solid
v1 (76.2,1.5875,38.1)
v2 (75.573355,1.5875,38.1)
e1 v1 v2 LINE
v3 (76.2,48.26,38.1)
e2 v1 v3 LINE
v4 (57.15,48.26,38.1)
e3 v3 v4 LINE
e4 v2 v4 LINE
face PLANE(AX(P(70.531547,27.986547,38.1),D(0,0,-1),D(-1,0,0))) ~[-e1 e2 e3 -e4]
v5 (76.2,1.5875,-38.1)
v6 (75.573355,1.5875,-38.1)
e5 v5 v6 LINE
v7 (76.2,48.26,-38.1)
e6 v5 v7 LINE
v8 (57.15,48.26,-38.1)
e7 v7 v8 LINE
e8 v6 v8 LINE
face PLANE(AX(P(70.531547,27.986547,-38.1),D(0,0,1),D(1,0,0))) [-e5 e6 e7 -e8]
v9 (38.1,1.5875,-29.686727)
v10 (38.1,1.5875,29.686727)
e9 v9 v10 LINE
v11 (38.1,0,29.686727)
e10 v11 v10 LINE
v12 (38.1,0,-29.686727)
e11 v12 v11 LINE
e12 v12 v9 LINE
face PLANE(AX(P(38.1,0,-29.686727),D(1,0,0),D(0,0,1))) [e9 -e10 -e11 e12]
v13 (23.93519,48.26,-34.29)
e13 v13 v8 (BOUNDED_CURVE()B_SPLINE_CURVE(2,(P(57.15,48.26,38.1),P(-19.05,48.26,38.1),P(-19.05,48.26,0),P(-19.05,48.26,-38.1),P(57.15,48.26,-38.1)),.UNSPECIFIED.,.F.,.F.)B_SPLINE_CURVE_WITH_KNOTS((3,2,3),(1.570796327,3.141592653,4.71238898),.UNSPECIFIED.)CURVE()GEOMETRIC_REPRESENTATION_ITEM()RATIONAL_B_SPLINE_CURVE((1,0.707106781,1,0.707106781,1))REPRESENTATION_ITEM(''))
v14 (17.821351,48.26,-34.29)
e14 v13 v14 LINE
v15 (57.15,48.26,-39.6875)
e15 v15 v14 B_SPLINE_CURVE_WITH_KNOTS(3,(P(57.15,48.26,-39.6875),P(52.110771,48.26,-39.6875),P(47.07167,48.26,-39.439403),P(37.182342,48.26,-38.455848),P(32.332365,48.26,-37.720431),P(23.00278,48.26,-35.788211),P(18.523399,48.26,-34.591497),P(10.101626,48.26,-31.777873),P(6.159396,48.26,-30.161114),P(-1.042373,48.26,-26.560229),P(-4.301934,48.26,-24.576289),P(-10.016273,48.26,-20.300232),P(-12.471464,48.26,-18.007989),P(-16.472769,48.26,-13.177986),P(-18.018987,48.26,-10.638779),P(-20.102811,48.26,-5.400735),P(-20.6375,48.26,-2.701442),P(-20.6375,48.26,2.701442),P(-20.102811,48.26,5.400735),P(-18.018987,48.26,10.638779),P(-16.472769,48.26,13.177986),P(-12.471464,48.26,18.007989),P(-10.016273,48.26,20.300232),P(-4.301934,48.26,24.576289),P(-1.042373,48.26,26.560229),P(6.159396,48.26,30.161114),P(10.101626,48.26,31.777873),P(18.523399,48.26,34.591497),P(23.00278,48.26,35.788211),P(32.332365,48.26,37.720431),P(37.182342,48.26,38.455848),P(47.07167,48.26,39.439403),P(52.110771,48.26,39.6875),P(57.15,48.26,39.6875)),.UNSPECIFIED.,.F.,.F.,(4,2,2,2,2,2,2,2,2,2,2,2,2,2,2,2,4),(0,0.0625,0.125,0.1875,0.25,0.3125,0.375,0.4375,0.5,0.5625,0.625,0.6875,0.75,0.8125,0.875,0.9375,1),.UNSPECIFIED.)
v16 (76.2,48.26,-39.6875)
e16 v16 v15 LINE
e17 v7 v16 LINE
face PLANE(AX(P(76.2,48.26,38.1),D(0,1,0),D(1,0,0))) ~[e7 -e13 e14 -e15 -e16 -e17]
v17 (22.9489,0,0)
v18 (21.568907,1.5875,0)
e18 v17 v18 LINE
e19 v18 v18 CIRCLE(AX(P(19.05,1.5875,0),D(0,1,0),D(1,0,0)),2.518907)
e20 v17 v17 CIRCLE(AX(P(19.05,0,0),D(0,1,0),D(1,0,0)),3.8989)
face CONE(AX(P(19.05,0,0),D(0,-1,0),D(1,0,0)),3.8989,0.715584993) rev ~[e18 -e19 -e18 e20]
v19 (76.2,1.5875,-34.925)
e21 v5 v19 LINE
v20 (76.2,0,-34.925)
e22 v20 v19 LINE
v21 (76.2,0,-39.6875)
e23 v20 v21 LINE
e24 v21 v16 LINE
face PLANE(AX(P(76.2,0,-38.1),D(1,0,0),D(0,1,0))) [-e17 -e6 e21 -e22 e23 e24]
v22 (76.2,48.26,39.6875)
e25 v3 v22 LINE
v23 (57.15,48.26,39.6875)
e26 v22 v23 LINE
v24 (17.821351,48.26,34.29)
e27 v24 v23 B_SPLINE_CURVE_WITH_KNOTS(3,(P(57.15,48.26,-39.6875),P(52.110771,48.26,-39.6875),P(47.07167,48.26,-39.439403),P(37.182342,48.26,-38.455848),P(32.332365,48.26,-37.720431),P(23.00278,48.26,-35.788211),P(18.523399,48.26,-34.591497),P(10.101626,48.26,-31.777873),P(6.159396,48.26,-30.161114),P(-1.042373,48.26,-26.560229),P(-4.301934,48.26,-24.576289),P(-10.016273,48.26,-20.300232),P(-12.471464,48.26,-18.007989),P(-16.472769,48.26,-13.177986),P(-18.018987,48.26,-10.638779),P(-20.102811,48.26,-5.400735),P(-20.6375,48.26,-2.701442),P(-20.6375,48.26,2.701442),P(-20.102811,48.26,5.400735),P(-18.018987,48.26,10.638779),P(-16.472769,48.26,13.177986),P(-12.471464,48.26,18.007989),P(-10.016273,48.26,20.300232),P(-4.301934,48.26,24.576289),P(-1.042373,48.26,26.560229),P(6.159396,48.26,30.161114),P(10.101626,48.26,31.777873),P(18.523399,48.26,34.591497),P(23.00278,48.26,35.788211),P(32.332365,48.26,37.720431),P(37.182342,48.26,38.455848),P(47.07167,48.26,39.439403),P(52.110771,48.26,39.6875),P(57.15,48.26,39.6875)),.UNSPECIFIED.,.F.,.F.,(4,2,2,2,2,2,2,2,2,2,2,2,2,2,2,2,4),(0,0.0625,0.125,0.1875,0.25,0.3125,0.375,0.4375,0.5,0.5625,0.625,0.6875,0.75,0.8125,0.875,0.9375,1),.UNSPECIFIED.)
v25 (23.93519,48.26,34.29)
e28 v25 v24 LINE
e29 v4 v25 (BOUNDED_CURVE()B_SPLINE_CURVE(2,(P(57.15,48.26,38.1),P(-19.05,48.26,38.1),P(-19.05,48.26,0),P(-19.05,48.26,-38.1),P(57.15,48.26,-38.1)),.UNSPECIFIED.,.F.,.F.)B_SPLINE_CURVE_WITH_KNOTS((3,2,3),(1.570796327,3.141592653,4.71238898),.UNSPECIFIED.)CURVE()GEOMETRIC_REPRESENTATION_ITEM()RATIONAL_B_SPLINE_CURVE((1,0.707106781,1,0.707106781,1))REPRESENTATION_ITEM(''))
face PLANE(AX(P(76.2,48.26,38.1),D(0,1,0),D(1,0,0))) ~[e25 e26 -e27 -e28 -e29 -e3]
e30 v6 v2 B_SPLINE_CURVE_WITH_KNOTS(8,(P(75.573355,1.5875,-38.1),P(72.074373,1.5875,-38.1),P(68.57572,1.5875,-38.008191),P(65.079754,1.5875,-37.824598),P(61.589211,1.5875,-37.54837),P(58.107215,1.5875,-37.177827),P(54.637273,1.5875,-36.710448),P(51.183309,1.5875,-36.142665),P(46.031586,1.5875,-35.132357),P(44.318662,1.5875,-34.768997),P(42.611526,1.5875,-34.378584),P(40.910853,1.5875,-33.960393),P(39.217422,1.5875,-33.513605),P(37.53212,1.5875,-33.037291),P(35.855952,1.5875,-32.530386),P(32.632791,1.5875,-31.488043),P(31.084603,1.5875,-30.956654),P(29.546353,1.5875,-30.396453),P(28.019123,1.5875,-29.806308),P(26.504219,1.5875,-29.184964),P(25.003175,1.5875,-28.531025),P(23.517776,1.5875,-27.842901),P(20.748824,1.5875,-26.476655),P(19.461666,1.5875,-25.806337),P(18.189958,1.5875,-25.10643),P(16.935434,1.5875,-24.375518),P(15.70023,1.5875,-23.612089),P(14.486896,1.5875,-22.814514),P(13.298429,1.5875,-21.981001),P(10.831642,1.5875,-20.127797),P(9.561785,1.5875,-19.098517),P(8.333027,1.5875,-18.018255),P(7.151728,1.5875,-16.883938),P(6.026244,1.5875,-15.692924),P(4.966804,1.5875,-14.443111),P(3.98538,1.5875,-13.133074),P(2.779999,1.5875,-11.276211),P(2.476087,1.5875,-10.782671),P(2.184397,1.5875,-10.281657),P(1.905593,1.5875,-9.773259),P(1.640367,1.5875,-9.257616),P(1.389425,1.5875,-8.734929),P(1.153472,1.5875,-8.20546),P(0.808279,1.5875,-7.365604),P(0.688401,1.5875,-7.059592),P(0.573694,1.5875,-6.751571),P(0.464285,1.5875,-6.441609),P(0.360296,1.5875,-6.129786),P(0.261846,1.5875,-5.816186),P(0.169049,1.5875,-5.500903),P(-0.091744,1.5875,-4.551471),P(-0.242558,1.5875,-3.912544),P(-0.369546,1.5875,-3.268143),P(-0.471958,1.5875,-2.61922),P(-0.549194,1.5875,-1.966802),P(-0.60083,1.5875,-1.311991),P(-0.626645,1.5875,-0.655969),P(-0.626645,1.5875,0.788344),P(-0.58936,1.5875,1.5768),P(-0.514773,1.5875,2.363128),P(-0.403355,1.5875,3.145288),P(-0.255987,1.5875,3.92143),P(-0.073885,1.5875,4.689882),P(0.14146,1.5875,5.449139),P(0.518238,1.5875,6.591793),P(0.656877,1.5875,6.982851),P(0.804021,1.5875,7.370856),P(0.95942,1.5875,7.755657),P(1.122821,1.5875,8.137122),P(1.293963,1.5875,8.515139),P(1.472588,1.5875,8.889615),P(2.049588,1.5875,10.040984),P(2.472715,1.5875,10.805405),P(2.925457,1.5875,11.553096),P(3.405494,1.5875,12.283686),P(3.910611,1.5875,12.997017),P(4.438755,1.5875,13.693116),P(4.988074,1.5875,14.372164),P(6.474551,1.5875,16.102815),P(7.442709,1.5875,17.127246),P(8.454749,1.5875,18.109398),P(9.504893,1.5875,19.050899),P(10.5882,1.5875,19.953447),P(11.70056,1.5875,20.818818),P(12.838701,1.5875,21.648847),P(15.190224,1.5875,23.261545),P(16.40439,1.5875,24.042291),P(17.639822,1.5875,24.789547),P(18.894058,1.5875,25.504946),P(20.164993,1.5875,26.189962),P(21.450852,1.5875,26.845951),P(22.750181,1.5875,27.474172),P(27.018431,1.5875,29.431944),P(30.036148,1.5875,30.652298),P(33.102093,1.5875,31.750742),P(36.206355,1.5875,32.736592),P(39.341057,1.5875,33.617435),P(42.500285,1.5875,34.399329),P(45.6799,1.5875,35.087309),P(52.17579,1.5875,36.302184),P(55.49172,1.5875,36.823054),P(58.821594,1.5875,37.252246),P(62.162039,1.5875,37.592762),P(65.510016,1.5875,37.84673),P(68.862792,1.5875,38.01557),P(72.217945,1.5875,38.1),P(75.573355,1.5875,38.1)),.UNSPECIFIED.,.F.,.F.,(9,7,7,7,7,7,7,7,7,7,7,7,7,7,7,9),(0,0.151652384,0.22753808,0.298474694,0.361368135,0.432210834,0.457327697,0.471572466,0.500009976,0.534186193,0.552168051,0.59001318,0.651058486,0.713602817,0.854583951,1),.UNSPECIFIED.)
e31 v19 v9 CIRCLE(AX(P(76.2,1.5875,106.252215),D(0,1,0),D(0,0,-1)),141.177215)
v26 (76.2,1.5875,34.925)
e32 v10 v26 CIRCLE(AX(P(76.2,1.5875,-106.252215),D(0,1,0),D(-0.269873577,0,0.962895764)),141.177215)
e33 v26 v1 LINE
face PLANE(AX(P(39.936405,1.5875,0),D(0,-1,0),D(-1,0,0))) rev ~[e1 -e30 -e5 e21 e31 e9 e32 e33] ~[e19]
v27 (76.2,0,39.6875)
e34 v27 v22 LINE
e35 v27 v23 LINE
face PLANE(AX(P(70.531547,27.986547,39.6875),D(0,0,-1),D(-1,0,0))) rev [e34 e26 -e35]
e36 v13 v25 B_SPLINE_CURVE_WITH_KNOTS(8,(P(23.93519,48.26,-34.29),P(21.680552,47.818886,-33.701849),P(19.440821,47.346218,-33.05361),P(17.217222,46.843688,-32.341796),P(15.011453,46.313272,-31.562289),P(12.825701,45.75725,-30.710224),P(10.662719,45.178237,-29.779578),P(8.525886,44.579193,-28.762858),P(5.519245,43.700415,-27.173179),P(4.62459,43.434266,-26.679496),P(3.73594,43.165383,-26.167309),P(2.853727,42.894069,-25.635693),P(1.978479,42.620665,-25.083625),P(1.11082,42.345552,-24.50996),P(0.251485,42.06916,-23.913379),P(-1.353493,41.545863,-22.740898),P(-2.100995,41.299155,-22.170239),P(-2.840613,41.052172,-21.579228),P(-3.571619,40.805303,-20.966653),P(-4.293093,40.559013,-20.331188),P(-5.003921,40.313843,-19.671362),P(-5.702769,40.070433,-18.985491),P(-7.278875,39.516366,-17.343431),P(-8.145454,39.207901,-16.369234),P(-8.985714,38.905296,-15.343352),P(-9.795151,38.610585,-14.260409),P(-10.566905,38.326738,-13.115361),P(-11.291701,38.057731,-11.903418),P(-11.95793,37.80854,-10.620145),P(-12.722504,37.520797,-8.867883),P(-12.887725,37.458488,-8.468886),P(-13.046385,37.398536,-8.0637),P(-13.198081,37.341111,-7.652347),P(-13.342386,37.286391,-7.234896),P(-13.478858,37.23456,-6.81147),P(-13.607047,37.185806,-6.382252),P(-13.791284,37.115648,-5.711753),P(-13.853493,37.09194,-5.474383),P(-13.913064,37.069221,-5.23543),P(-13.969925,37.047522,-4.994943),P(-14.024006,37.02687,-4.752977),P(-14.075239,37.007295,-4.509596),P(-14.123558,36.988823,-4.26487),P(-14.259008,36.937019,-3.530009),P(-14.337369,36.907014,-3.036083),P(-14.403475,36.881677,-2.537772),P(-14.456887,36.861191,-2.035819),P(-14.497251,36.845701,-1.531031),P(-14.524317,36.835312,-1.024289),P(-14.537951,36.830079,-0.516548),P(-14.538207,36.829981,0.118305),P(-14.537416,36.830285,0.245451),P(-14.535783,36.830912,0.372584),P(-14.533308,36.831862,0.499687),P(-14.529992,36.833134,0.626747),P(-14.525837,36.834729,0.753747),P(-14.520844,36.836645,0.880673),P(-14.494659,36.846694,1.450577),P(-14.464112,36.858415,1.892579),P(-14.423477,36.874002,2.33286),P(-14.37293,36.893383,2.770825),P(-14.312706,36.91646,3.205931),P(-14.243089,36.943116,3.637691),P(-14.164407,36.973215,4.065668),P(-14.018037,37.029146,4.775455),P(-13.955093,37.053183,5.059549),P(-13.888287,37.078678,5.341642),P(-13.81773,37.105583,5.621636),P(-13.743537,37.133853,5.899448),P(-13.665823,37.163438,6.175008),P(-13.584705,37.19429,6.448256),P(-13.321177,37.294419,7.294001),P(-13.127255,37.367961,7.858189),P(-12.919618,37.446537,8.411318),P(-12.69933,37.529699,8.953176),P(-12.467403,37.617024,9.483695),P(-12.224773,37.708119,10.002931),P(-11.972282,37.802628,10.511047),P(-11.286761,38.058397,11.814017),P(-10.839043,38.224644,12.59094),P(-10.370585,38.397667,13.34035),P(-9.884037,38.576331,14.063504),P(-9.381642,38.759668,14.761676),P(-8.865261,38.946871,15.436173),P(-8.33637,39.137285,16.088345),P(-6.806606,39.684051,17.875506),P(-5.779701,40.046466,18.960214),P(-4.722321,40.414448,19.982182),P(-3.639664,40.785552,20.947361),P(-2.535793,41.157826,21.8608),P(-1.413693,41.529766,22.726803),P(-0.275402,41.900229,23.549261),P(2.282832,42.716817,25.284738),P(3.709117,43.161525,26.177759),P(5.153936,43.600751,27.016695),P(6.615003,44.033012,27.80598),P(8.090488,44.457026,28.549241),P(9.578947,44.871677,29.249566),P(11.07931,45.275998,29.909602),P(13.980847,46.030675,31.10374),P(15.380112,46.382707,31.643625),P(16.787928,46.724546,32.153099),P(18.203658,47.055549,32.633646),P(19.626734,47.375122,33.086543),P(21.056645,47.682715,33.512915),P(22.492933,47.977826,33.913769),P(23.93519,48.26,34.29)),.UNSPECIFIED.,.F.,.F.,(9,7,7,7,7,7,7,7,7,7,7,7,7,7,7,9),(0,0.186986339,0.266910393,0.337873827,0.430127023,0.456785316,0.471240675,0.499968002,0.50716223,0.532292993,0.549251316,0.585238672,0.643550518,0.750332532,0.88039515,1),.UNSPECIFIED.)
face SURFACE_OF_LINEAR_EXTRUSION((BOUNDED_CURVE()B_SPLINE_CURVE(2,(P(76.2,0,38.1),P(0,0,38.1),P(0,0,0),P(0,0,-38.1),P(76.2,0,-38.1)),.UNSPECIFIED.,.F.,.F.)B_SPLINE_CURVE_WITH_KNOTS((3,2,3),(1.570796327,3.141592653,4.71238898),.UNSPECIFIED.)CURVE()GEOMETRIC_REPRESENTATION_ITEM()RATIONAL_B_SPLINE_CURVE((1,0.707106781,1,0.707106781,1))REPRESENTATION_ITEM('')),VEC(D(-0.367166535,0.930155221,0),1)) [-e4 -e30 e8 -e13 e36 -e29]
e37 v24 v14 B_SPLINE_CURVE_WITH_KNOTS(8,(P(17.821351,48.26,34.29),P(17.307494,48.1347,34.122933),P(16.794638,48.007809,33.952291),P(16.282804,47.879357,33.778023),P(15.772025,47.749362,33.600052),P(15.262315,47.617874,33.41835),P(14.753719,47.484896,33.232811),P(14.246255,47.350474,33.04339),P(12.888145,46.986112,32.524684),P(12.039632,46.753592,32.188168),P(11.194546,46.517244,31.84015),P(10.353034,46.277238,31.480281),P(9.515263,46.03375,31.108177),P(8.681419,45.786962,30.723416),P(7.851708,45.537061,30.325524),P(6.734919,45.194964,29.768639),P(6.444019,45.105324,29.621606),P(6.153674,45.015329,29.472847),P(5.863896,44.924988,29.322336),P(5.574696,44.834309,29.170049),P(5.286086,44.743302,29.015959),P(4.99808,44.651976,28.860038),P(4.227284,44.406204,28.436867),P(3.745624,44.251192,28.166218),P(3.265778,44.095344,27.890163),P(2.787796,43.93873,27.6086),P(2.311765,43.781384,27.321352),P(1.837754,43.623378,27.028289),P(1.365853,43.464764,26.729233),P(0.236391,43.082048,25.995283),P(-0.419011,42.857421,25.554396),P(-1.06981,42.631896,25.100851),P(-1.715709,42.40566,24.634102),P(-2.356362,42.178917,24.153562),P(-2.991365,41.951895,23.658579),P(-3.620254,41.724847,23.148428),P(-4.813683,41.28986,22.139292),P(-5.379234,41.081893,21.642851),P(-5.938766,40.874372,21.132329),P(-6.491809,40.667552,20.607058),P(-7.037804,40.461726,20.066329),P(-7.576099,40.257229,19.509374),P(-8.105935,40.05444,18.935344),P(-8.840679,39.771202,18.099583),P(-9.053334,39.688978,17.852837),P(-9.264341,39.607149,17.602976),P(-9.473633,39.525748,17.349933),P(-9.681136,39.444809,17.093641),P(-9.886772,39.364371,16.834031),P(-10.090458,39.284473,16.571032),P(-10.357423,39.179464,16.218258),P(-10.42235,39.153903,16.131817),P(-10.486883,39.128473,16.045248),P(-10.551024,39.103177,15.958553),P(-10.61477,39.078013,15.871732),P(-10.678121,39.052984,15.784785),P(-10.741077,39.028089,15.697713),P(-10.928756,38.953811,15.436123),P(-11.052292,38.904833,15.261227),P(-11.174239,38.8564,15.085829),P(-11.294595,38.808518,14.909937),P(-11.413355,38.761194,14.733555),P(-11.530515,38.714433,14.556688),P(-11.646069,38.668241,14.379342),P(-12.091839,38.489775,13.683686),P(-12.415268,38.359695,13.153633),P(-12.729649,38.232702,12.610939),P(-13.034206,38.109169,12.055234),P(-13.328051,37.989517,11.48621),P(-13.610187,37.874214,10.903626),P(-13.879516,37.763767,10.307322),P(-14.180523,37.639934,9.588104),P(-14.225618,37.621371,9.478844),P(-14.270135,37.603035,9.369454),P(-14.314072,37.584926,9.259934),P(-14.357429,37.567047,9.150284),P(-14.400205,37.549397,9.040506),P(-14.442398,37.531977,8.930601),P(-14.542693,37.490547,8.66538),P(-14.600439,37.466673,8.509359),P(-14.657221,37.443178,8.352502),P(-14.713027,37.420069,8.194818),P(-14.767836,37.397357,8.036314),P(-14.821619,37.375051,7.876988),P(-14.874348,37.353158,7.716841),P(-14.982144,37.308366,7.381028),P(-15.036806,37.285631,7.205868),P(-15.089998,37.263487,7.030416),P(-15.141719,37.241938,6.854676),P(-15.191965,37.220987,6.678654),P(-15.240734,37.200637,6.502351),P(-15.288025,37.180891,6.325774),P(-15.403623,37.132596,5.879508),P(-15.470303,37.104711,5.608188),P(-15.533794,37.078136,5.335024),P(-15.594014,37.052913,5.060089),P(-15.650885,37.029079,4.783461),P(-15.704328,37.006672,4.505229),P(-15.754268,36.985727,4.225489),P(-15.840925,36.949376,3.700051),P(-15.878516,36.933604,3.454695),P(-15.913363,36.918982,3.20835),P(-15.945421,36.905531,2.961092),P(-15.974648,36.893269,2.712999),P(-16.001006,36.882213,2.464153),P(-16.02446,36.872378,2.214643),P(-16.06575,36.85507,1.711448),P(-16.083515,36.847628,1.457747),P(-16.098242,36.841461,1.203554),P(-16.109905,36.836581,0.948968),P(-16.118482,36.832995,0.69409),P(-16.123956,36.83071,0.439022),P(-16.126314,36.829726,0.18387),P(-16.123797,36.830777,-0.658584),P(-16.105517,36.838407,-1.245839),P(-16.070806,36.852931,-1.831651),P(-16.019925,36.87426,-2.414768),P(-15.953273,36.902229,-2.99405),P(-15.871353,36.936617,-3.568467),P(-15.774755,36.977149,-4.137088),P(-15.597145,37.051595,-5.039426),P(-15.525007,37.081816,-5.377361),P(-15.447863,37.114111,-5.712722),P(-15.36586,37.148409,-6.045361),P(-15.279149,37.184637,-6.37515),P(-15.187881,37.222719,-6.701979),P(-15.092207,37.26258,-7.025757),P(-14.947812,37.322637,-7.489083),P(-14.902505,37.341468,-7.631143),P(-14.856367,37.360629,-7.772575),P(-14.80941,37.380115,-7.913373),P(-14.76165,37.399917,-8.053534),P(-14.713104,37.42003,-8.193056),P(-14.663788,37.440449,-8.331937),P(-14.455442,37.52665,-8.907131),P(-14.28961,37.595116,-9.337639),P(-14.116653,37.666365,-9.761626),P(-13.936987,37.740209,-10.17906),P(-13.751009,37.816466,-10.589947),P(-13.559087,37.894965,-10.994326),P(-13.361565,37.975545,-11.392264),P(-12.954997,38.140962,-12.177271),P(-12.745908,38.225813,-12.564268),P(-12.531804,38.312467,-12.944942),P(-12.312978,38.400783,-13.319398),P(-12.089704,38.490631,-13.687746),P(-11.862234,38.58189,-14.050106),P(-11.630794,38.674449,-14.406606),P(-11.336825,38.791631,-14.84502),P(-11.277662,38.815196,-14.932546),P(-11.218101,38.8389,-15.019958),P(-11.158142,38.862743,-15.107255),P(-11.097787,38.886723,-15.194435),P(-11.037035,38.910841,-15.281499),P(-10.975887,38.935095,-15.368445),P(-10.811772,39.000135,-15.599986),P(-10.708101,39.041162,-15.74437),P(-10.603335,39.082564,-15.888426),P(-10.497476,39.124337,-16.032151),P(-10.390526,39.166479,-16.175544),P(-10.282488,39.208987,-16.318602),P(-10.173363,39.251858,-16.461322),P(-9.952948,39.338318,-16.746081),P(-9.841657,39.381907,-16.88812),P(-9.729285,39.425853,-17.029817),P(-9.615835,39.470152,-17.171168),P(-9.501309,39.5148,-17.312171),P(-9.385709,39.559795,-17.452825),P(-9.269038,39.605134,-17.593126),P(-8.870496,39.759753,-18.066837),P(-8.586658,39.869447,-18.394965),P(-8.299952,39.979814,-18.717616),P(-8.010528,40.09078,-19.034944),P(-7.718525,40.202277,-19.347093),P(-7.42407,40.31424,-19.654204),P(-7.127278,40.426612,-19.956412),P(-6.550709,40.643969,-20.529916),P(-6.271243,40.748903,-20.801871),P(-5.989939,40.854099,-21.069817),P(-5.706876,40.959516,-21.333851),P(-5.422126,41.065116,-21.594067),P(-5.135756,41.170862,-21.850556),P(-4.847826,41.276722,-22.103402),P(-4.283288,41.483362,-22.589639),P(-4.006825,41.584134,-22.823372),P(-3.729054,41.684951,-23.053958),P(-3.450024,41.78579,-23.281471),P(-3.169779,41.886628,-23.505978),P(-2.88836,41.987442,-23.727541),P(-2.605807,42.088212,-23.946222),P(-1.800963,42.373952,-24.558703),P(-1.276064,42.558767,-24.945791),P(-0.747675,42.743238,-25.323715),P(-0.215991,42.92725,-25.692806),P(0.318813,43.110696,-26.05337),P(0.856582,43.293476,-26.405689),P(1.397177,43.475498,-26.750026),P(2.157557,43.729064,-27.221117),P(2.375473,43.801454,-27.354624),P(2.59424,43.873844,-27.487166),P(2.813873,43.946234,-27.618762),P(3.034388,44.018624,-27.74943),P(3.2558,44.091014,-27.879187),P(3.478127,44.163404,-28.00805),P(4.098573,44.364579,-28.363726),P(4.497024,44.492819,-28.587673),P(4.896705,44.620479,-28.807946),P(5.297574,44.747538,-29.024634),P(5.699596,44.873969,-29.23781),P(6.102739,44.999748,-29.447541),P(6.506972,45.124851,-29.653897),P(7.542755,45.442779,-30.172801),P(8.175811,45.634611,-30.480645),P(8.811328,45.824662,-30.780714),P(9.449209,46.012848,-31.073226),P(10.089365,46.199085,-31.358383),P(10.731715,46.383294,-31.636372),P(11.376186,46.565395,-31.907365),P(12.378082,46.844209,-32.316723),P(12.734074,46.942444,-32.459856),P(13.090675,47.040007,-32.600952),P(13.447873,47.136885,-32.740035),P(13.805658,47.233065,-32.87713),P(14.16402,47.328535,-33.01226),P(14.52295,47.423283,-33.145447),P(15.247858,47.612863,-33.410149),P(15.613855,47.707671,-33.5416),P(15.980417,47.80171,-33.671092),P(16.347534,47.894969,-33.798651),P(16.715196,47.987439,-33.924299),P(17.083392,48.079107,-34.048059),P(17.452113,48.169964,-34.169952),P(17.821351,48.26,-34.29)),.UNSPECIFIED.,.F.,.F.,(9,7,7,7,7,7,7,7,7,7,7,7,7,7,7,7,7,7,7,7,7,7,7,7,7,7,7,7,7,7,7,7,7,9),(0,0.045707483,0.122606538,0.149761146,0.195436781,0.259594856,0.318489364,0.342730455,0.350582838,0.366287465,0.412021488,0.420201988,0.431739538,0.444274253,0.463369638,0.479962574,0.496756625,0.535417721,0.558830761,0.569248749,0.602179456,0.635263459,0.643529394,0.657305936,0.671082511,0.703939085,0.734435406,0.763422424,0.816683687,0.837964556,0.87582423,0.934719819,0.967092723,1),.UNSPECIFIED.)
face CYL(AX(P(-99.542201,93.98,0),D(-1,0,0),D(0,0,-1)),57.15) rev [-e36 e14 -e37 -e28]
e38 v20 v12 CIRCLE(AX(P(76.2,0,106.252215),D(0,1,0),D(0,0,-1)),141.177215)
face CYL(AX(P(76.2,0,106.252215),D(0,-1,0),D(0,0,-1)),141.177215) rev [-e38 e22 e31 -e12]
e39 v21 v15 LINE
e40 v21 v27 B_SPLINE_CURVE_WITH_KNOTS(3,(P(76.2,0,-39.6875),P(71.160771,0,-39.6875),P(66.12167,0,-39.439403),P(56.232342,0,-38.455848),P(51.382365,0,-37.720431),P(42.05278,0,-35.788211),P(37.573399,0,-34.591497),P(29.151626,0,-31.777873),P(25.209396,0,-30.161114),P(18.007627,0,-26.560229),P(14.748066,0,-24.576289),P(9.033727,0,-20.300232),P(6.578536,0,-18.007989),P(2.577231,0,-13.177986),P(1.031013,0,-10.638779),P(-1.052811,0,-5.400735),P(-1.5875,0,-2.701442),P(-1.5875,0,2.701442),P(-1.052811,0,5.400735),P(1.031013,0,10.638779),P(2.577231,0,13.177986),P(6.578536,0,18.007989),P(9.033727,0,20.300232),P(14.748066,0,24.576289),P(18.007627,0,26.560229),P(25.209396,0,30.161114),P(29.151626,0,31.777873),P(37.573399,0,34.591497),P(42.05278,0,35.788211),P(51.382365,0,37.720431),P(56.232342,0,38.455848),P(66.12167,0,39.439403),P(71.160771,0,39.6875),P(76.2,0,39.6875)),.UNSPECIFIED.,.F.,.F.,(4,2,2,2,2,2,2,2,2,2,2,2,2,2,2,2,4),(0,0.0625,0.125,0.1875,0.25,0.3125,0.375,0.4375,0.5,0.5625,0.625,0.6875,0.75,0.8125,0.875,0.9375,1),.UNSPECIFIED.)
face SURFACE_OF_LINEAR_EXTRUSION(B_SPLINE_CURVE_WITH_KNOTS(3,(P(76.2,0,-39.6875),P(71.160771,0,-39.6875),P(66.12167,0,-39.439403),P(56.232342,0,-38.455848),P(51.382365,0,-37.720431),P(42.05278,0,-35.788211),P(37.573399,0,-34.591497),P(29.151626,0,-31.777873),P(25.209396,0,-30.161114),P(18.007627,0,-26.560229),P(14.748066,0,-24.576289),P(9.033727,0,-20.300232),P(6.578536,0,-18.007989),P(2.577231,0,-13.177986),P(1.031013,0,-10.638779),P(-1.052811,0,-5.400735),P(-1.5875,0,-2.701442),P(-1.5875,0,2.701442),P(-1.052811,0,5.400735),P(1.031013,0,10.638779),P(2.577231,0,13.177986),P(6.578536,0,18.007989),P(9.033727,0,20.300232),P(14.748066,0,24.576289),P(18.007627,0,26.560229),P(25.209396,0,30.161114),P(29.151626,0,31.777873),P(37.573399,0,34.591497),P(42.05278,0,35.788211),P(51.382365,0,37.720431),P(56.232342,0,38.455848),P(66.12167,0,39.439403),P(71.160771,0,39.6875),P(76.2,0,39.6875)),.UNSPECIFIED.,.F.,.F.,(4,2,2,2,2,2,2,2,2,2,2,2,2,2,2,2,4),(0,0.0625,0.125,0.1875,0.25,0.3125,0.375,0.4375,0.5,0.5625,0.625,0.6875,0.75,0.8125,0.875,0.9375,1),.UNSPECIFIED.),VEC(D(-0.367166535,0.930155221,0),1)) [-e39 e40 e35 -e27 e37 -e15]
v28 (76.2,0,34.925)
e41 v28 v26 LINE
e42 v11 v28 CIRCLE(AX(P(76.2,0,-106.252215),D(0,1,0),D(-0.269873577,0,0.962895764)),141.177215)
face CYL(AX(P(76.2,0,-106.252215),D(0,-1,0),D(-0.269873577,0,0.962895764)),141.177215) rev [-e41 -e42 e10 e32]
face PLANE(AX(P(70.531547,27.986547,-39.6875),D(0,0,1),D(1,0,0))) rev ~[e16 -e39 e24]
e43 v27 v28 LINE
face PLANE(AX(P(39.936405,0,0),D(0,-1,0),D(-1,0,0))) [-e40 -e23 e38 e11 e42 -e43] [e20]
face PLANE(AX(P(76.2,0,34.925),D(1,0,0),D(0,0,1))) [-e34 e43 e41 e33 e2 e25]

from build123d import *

# Parameters (mm, degrees)
BOSS_EXTRUDE1_DEPTH                               = 1.5875
BOSS_EXTRUDE3_DEPTH                               = 1.5875
CUT_EXTRUDE1_DEPTH                                = 99.542200549
CUT_EXTRUDE1_DEPTH_BACK                           = 99.542200549
SKETCH15_R                                        = 57.15
CSK_FOR_6_FLAT_HEAD_SOCKET_CAP_SCREW1_D           = 3.7973
CSK_FOR_6_FLAT_HEAD_SOCKET_CAP_SCREW1_CSINK_D     = 7.7978
CSK_FOR_6_FLAT_HEAD_SOCKET_CAP_SCREW1_CSINK_ANGLE = 82


with BuildPart() as part:
    # Sketch2 → Boss-Extrude1 (new body)
    with BuildSketch(Plane(origin=(0, 0, 0), x_dir=(1, 0, 0), z_dir=(0, 1, 0))):
        with BuildLine():
            Line((76.2, 39.6875), (76.2, 34.925))
            ThreePointArc((76.2, 34.925), (56.970793693, 33.609301009), (38.1, 29.686727313))
            Line((38.1, 29.686727313), (38.1, -29.686727313))
            ThreePointArc((38.1, -29.686727313), (56.970793693, -33.609301009), (76.2, -34.925))
            Line((76.2, -34.925), (76.2, -39.6875))
            add(Edge.make_bspline(
                [(76.2, 39.6875), (71.160770846, 39.6875), (66.121669874, 39.439402959), (56.232341917, 38.455848141), (51.38236517, 37.720431392), (42.05278018, 35.788211075), (37.57339889, 34.591497355), (29.151625765, 31.777872907), (25.209395979, 30.161113673), (18.007627403, 26.560229385), (14.748066442, 24.576288924), (9.033726852, 20.300232144), (6.578536208, 18.007988702), (2.577231253, 13.177986358), (1.031012909, 10.638779168), (-1.052810806, 5.400734539), (-1.5875, 2.701442433), (-1.5875, -2.701442433), (-1.052810806, -5.400734539), (1.031012909, -10.638779168), (2.577231253, -13.177986358), (6.578536208, -18.007988702), (9.033726852, -20.300232144), (14.748066442, -24.576288924), (18.007627403, -26.560229385), (25.209395979, -30.161113673), (29.151625765, -31.777872907), (37.57339889, -34.591497355), (42.05278018, -35.788211075), (51.38236517, -37.720431392), (56.232341917, -38.455848141), (66.121669874, -39.439402959), (71.160770846, -39.6875), (76.2, -39.6875)],
                knots=[0, 0, 0, 0, 0.0625, 0.0625, 0.125, 0.125, 0.1875, 0.1875, 0.25, 0.25, 0.3125, 0.3125, 0.375, 0.375, 0.4375, 0.4375, 0.5, 0.5, 0.5625, 0.5625, 0.625, 0.625, 0.6875, 0.6875, 0.75, 0.75, 0.8125, 0.8125, 0.875, 0.875, 0.9375, 0.9375, 1, 1, 1, 1], degree=3))
        make_face()
    extrude(amount=BOSS_EXTRUDE1_DEPTH)

    # Sweep3: sweep along a path in Sketch8
    with BuildLine(Plane.XY) as sweep3_path:
        Line((-1.5875, 0), (-20.6375, 48.26))
    # Sketch3 → Sweep3 (sweep)
    with BuildSketch(Plane(origin=(0, 0, 0), x_dir=(1, 0, 0), z_dir=(0, 1, 0))):
        with BuildLine():
            Line((76.2, 39.6875), (76.2, 38.1))
            add(Edge.make_bspline(
                [(76.2, 38.1), (0, 38.1), (0, 0), (0, -38.1), (76.2, -38.1)],
                knots=[1.570796327, 1.570796327, 1.570796327, 3.141592654, 3.141592654, 4.71238898, 4.71238898, 4.71238898], degree=2, weights=[1, 0.707106781, 1, 0.707106781, 1]))
            Line((76.2, -38.1), (76.2, -39.6875))
            add(Edge.make_bspline(
                [(76.2, 39.6875), (71.160770846, 39.6875), (66.121669874, 39.439402959), (56.232341917, 38.455848141), (51.38236517, 37.720431392), (42.05278018, 35.788211075), (37.57339889, 34.591497355), (29.151625765, 31.777872907), (25.209395979, 30.161113673), (18.007627403, 26.560229385), (14.748066442, 24.576288924), (9.033726852, 20.300232144), (6.578536208, 18.007988702), (2.577231253, 13.177986358), (1.031012909, 10.638779168), (-1.052810806, 5.400734539), (-1.5875, 2.701442433), (-1.5875, -2.701442433), (-1.052810806, -5.400734539), (1.031012909, -10.638779168), (2.577231253, -13.177986358), (6.578536208, -18.007988702), (9.033726852, -20.300232144), (14.748066442, -24.576288924), (18.007627403, -26.560229385), (25.209395979, -30.161113673), (29.151625765, -31.777872907), (37.57339889, -34.591497355), (42.05278018, -35.788211075), (51.38236517, -37.720431392), (56.232341917, -38.455848141), (66.121669874, -39.439402959), (71.160770846, -39.6875), (76.2, -39.6875)],
                knots=[0, 0, 0, 0, 0.0625, 0.0625, 0.125, 0.125, 0.1875, 0.1875, 0.25, 0.25, 0.3125, 0.3125, 0.375, 0.375, 0.4375, 0.4375, 0.5, 0.5, 0.5625, 0.5625, 0.625, 0.625, 0.6875, 0.6875, 0.75, 0.75, 0.8125, 0.8125, 0.875, 0.875, 0.9375, 0.9375, 1, 1, 1, 1], degree=3))
        make_face()
    sweep(path=sweep3_path.line)

    # Sketch14 → Boss-Extrude3 (add)
    with BuildSketch(Plane.XY.offset(-38.1)):
        Polygon((57.15, 48.26), (76.2, 0), (76.2, 48.26), align=None)
    boss_extrude3 = extrude(amount=-BOSS_EXTRUDE3_DEPTH)

    # Mirror2: Boss-Extrude3 across plane
    add(boss_extrude3.mirror(Plane.XY))

    # Sketch15 → Cut-Extrude1 (cut, two sides: drawn at the far end of the back side and taken through both)
    with BuildSketch(Plane(origin=(0, 0, 0), x_dir=(0, 0, -1), z_dir=(1, 0, 0)).offset(-CUT_EXTRUDE1_DEPTH_BACK)):
        with Locations((0, 93.98)):
            Circle(SKETCH15_R)
    extrude(amount=CUT_EXTRUDE1_DEPTH + CUT_EXTRUDE1_DEPTH_BACK, mode=Mode.SUBTRACT)

    # CSK for #6 Flat Head Socket Cap Screw1 (through all)
    with Locations(Plane(origin=(0, 0, 0), x_dir=(-1, 0, 0), z_dir=(0, -1, 0))):
        with Locations((-19.05, 0)):
            CounterSinkHole(CSK_FOR_6_FLAT_HEAD_SOCKET_CAP_SCREW1_D / 2, CSK_FOR_6_FLAT_HEAD_SOCKET_CAP_SCREW1_CSINK_D / 2, counter_sink_angle=CSK_FOR_6_FLAT_HEAD_SOCKET_CAP_SCREW1_CSINK_ANGLE)


solid = part.part
